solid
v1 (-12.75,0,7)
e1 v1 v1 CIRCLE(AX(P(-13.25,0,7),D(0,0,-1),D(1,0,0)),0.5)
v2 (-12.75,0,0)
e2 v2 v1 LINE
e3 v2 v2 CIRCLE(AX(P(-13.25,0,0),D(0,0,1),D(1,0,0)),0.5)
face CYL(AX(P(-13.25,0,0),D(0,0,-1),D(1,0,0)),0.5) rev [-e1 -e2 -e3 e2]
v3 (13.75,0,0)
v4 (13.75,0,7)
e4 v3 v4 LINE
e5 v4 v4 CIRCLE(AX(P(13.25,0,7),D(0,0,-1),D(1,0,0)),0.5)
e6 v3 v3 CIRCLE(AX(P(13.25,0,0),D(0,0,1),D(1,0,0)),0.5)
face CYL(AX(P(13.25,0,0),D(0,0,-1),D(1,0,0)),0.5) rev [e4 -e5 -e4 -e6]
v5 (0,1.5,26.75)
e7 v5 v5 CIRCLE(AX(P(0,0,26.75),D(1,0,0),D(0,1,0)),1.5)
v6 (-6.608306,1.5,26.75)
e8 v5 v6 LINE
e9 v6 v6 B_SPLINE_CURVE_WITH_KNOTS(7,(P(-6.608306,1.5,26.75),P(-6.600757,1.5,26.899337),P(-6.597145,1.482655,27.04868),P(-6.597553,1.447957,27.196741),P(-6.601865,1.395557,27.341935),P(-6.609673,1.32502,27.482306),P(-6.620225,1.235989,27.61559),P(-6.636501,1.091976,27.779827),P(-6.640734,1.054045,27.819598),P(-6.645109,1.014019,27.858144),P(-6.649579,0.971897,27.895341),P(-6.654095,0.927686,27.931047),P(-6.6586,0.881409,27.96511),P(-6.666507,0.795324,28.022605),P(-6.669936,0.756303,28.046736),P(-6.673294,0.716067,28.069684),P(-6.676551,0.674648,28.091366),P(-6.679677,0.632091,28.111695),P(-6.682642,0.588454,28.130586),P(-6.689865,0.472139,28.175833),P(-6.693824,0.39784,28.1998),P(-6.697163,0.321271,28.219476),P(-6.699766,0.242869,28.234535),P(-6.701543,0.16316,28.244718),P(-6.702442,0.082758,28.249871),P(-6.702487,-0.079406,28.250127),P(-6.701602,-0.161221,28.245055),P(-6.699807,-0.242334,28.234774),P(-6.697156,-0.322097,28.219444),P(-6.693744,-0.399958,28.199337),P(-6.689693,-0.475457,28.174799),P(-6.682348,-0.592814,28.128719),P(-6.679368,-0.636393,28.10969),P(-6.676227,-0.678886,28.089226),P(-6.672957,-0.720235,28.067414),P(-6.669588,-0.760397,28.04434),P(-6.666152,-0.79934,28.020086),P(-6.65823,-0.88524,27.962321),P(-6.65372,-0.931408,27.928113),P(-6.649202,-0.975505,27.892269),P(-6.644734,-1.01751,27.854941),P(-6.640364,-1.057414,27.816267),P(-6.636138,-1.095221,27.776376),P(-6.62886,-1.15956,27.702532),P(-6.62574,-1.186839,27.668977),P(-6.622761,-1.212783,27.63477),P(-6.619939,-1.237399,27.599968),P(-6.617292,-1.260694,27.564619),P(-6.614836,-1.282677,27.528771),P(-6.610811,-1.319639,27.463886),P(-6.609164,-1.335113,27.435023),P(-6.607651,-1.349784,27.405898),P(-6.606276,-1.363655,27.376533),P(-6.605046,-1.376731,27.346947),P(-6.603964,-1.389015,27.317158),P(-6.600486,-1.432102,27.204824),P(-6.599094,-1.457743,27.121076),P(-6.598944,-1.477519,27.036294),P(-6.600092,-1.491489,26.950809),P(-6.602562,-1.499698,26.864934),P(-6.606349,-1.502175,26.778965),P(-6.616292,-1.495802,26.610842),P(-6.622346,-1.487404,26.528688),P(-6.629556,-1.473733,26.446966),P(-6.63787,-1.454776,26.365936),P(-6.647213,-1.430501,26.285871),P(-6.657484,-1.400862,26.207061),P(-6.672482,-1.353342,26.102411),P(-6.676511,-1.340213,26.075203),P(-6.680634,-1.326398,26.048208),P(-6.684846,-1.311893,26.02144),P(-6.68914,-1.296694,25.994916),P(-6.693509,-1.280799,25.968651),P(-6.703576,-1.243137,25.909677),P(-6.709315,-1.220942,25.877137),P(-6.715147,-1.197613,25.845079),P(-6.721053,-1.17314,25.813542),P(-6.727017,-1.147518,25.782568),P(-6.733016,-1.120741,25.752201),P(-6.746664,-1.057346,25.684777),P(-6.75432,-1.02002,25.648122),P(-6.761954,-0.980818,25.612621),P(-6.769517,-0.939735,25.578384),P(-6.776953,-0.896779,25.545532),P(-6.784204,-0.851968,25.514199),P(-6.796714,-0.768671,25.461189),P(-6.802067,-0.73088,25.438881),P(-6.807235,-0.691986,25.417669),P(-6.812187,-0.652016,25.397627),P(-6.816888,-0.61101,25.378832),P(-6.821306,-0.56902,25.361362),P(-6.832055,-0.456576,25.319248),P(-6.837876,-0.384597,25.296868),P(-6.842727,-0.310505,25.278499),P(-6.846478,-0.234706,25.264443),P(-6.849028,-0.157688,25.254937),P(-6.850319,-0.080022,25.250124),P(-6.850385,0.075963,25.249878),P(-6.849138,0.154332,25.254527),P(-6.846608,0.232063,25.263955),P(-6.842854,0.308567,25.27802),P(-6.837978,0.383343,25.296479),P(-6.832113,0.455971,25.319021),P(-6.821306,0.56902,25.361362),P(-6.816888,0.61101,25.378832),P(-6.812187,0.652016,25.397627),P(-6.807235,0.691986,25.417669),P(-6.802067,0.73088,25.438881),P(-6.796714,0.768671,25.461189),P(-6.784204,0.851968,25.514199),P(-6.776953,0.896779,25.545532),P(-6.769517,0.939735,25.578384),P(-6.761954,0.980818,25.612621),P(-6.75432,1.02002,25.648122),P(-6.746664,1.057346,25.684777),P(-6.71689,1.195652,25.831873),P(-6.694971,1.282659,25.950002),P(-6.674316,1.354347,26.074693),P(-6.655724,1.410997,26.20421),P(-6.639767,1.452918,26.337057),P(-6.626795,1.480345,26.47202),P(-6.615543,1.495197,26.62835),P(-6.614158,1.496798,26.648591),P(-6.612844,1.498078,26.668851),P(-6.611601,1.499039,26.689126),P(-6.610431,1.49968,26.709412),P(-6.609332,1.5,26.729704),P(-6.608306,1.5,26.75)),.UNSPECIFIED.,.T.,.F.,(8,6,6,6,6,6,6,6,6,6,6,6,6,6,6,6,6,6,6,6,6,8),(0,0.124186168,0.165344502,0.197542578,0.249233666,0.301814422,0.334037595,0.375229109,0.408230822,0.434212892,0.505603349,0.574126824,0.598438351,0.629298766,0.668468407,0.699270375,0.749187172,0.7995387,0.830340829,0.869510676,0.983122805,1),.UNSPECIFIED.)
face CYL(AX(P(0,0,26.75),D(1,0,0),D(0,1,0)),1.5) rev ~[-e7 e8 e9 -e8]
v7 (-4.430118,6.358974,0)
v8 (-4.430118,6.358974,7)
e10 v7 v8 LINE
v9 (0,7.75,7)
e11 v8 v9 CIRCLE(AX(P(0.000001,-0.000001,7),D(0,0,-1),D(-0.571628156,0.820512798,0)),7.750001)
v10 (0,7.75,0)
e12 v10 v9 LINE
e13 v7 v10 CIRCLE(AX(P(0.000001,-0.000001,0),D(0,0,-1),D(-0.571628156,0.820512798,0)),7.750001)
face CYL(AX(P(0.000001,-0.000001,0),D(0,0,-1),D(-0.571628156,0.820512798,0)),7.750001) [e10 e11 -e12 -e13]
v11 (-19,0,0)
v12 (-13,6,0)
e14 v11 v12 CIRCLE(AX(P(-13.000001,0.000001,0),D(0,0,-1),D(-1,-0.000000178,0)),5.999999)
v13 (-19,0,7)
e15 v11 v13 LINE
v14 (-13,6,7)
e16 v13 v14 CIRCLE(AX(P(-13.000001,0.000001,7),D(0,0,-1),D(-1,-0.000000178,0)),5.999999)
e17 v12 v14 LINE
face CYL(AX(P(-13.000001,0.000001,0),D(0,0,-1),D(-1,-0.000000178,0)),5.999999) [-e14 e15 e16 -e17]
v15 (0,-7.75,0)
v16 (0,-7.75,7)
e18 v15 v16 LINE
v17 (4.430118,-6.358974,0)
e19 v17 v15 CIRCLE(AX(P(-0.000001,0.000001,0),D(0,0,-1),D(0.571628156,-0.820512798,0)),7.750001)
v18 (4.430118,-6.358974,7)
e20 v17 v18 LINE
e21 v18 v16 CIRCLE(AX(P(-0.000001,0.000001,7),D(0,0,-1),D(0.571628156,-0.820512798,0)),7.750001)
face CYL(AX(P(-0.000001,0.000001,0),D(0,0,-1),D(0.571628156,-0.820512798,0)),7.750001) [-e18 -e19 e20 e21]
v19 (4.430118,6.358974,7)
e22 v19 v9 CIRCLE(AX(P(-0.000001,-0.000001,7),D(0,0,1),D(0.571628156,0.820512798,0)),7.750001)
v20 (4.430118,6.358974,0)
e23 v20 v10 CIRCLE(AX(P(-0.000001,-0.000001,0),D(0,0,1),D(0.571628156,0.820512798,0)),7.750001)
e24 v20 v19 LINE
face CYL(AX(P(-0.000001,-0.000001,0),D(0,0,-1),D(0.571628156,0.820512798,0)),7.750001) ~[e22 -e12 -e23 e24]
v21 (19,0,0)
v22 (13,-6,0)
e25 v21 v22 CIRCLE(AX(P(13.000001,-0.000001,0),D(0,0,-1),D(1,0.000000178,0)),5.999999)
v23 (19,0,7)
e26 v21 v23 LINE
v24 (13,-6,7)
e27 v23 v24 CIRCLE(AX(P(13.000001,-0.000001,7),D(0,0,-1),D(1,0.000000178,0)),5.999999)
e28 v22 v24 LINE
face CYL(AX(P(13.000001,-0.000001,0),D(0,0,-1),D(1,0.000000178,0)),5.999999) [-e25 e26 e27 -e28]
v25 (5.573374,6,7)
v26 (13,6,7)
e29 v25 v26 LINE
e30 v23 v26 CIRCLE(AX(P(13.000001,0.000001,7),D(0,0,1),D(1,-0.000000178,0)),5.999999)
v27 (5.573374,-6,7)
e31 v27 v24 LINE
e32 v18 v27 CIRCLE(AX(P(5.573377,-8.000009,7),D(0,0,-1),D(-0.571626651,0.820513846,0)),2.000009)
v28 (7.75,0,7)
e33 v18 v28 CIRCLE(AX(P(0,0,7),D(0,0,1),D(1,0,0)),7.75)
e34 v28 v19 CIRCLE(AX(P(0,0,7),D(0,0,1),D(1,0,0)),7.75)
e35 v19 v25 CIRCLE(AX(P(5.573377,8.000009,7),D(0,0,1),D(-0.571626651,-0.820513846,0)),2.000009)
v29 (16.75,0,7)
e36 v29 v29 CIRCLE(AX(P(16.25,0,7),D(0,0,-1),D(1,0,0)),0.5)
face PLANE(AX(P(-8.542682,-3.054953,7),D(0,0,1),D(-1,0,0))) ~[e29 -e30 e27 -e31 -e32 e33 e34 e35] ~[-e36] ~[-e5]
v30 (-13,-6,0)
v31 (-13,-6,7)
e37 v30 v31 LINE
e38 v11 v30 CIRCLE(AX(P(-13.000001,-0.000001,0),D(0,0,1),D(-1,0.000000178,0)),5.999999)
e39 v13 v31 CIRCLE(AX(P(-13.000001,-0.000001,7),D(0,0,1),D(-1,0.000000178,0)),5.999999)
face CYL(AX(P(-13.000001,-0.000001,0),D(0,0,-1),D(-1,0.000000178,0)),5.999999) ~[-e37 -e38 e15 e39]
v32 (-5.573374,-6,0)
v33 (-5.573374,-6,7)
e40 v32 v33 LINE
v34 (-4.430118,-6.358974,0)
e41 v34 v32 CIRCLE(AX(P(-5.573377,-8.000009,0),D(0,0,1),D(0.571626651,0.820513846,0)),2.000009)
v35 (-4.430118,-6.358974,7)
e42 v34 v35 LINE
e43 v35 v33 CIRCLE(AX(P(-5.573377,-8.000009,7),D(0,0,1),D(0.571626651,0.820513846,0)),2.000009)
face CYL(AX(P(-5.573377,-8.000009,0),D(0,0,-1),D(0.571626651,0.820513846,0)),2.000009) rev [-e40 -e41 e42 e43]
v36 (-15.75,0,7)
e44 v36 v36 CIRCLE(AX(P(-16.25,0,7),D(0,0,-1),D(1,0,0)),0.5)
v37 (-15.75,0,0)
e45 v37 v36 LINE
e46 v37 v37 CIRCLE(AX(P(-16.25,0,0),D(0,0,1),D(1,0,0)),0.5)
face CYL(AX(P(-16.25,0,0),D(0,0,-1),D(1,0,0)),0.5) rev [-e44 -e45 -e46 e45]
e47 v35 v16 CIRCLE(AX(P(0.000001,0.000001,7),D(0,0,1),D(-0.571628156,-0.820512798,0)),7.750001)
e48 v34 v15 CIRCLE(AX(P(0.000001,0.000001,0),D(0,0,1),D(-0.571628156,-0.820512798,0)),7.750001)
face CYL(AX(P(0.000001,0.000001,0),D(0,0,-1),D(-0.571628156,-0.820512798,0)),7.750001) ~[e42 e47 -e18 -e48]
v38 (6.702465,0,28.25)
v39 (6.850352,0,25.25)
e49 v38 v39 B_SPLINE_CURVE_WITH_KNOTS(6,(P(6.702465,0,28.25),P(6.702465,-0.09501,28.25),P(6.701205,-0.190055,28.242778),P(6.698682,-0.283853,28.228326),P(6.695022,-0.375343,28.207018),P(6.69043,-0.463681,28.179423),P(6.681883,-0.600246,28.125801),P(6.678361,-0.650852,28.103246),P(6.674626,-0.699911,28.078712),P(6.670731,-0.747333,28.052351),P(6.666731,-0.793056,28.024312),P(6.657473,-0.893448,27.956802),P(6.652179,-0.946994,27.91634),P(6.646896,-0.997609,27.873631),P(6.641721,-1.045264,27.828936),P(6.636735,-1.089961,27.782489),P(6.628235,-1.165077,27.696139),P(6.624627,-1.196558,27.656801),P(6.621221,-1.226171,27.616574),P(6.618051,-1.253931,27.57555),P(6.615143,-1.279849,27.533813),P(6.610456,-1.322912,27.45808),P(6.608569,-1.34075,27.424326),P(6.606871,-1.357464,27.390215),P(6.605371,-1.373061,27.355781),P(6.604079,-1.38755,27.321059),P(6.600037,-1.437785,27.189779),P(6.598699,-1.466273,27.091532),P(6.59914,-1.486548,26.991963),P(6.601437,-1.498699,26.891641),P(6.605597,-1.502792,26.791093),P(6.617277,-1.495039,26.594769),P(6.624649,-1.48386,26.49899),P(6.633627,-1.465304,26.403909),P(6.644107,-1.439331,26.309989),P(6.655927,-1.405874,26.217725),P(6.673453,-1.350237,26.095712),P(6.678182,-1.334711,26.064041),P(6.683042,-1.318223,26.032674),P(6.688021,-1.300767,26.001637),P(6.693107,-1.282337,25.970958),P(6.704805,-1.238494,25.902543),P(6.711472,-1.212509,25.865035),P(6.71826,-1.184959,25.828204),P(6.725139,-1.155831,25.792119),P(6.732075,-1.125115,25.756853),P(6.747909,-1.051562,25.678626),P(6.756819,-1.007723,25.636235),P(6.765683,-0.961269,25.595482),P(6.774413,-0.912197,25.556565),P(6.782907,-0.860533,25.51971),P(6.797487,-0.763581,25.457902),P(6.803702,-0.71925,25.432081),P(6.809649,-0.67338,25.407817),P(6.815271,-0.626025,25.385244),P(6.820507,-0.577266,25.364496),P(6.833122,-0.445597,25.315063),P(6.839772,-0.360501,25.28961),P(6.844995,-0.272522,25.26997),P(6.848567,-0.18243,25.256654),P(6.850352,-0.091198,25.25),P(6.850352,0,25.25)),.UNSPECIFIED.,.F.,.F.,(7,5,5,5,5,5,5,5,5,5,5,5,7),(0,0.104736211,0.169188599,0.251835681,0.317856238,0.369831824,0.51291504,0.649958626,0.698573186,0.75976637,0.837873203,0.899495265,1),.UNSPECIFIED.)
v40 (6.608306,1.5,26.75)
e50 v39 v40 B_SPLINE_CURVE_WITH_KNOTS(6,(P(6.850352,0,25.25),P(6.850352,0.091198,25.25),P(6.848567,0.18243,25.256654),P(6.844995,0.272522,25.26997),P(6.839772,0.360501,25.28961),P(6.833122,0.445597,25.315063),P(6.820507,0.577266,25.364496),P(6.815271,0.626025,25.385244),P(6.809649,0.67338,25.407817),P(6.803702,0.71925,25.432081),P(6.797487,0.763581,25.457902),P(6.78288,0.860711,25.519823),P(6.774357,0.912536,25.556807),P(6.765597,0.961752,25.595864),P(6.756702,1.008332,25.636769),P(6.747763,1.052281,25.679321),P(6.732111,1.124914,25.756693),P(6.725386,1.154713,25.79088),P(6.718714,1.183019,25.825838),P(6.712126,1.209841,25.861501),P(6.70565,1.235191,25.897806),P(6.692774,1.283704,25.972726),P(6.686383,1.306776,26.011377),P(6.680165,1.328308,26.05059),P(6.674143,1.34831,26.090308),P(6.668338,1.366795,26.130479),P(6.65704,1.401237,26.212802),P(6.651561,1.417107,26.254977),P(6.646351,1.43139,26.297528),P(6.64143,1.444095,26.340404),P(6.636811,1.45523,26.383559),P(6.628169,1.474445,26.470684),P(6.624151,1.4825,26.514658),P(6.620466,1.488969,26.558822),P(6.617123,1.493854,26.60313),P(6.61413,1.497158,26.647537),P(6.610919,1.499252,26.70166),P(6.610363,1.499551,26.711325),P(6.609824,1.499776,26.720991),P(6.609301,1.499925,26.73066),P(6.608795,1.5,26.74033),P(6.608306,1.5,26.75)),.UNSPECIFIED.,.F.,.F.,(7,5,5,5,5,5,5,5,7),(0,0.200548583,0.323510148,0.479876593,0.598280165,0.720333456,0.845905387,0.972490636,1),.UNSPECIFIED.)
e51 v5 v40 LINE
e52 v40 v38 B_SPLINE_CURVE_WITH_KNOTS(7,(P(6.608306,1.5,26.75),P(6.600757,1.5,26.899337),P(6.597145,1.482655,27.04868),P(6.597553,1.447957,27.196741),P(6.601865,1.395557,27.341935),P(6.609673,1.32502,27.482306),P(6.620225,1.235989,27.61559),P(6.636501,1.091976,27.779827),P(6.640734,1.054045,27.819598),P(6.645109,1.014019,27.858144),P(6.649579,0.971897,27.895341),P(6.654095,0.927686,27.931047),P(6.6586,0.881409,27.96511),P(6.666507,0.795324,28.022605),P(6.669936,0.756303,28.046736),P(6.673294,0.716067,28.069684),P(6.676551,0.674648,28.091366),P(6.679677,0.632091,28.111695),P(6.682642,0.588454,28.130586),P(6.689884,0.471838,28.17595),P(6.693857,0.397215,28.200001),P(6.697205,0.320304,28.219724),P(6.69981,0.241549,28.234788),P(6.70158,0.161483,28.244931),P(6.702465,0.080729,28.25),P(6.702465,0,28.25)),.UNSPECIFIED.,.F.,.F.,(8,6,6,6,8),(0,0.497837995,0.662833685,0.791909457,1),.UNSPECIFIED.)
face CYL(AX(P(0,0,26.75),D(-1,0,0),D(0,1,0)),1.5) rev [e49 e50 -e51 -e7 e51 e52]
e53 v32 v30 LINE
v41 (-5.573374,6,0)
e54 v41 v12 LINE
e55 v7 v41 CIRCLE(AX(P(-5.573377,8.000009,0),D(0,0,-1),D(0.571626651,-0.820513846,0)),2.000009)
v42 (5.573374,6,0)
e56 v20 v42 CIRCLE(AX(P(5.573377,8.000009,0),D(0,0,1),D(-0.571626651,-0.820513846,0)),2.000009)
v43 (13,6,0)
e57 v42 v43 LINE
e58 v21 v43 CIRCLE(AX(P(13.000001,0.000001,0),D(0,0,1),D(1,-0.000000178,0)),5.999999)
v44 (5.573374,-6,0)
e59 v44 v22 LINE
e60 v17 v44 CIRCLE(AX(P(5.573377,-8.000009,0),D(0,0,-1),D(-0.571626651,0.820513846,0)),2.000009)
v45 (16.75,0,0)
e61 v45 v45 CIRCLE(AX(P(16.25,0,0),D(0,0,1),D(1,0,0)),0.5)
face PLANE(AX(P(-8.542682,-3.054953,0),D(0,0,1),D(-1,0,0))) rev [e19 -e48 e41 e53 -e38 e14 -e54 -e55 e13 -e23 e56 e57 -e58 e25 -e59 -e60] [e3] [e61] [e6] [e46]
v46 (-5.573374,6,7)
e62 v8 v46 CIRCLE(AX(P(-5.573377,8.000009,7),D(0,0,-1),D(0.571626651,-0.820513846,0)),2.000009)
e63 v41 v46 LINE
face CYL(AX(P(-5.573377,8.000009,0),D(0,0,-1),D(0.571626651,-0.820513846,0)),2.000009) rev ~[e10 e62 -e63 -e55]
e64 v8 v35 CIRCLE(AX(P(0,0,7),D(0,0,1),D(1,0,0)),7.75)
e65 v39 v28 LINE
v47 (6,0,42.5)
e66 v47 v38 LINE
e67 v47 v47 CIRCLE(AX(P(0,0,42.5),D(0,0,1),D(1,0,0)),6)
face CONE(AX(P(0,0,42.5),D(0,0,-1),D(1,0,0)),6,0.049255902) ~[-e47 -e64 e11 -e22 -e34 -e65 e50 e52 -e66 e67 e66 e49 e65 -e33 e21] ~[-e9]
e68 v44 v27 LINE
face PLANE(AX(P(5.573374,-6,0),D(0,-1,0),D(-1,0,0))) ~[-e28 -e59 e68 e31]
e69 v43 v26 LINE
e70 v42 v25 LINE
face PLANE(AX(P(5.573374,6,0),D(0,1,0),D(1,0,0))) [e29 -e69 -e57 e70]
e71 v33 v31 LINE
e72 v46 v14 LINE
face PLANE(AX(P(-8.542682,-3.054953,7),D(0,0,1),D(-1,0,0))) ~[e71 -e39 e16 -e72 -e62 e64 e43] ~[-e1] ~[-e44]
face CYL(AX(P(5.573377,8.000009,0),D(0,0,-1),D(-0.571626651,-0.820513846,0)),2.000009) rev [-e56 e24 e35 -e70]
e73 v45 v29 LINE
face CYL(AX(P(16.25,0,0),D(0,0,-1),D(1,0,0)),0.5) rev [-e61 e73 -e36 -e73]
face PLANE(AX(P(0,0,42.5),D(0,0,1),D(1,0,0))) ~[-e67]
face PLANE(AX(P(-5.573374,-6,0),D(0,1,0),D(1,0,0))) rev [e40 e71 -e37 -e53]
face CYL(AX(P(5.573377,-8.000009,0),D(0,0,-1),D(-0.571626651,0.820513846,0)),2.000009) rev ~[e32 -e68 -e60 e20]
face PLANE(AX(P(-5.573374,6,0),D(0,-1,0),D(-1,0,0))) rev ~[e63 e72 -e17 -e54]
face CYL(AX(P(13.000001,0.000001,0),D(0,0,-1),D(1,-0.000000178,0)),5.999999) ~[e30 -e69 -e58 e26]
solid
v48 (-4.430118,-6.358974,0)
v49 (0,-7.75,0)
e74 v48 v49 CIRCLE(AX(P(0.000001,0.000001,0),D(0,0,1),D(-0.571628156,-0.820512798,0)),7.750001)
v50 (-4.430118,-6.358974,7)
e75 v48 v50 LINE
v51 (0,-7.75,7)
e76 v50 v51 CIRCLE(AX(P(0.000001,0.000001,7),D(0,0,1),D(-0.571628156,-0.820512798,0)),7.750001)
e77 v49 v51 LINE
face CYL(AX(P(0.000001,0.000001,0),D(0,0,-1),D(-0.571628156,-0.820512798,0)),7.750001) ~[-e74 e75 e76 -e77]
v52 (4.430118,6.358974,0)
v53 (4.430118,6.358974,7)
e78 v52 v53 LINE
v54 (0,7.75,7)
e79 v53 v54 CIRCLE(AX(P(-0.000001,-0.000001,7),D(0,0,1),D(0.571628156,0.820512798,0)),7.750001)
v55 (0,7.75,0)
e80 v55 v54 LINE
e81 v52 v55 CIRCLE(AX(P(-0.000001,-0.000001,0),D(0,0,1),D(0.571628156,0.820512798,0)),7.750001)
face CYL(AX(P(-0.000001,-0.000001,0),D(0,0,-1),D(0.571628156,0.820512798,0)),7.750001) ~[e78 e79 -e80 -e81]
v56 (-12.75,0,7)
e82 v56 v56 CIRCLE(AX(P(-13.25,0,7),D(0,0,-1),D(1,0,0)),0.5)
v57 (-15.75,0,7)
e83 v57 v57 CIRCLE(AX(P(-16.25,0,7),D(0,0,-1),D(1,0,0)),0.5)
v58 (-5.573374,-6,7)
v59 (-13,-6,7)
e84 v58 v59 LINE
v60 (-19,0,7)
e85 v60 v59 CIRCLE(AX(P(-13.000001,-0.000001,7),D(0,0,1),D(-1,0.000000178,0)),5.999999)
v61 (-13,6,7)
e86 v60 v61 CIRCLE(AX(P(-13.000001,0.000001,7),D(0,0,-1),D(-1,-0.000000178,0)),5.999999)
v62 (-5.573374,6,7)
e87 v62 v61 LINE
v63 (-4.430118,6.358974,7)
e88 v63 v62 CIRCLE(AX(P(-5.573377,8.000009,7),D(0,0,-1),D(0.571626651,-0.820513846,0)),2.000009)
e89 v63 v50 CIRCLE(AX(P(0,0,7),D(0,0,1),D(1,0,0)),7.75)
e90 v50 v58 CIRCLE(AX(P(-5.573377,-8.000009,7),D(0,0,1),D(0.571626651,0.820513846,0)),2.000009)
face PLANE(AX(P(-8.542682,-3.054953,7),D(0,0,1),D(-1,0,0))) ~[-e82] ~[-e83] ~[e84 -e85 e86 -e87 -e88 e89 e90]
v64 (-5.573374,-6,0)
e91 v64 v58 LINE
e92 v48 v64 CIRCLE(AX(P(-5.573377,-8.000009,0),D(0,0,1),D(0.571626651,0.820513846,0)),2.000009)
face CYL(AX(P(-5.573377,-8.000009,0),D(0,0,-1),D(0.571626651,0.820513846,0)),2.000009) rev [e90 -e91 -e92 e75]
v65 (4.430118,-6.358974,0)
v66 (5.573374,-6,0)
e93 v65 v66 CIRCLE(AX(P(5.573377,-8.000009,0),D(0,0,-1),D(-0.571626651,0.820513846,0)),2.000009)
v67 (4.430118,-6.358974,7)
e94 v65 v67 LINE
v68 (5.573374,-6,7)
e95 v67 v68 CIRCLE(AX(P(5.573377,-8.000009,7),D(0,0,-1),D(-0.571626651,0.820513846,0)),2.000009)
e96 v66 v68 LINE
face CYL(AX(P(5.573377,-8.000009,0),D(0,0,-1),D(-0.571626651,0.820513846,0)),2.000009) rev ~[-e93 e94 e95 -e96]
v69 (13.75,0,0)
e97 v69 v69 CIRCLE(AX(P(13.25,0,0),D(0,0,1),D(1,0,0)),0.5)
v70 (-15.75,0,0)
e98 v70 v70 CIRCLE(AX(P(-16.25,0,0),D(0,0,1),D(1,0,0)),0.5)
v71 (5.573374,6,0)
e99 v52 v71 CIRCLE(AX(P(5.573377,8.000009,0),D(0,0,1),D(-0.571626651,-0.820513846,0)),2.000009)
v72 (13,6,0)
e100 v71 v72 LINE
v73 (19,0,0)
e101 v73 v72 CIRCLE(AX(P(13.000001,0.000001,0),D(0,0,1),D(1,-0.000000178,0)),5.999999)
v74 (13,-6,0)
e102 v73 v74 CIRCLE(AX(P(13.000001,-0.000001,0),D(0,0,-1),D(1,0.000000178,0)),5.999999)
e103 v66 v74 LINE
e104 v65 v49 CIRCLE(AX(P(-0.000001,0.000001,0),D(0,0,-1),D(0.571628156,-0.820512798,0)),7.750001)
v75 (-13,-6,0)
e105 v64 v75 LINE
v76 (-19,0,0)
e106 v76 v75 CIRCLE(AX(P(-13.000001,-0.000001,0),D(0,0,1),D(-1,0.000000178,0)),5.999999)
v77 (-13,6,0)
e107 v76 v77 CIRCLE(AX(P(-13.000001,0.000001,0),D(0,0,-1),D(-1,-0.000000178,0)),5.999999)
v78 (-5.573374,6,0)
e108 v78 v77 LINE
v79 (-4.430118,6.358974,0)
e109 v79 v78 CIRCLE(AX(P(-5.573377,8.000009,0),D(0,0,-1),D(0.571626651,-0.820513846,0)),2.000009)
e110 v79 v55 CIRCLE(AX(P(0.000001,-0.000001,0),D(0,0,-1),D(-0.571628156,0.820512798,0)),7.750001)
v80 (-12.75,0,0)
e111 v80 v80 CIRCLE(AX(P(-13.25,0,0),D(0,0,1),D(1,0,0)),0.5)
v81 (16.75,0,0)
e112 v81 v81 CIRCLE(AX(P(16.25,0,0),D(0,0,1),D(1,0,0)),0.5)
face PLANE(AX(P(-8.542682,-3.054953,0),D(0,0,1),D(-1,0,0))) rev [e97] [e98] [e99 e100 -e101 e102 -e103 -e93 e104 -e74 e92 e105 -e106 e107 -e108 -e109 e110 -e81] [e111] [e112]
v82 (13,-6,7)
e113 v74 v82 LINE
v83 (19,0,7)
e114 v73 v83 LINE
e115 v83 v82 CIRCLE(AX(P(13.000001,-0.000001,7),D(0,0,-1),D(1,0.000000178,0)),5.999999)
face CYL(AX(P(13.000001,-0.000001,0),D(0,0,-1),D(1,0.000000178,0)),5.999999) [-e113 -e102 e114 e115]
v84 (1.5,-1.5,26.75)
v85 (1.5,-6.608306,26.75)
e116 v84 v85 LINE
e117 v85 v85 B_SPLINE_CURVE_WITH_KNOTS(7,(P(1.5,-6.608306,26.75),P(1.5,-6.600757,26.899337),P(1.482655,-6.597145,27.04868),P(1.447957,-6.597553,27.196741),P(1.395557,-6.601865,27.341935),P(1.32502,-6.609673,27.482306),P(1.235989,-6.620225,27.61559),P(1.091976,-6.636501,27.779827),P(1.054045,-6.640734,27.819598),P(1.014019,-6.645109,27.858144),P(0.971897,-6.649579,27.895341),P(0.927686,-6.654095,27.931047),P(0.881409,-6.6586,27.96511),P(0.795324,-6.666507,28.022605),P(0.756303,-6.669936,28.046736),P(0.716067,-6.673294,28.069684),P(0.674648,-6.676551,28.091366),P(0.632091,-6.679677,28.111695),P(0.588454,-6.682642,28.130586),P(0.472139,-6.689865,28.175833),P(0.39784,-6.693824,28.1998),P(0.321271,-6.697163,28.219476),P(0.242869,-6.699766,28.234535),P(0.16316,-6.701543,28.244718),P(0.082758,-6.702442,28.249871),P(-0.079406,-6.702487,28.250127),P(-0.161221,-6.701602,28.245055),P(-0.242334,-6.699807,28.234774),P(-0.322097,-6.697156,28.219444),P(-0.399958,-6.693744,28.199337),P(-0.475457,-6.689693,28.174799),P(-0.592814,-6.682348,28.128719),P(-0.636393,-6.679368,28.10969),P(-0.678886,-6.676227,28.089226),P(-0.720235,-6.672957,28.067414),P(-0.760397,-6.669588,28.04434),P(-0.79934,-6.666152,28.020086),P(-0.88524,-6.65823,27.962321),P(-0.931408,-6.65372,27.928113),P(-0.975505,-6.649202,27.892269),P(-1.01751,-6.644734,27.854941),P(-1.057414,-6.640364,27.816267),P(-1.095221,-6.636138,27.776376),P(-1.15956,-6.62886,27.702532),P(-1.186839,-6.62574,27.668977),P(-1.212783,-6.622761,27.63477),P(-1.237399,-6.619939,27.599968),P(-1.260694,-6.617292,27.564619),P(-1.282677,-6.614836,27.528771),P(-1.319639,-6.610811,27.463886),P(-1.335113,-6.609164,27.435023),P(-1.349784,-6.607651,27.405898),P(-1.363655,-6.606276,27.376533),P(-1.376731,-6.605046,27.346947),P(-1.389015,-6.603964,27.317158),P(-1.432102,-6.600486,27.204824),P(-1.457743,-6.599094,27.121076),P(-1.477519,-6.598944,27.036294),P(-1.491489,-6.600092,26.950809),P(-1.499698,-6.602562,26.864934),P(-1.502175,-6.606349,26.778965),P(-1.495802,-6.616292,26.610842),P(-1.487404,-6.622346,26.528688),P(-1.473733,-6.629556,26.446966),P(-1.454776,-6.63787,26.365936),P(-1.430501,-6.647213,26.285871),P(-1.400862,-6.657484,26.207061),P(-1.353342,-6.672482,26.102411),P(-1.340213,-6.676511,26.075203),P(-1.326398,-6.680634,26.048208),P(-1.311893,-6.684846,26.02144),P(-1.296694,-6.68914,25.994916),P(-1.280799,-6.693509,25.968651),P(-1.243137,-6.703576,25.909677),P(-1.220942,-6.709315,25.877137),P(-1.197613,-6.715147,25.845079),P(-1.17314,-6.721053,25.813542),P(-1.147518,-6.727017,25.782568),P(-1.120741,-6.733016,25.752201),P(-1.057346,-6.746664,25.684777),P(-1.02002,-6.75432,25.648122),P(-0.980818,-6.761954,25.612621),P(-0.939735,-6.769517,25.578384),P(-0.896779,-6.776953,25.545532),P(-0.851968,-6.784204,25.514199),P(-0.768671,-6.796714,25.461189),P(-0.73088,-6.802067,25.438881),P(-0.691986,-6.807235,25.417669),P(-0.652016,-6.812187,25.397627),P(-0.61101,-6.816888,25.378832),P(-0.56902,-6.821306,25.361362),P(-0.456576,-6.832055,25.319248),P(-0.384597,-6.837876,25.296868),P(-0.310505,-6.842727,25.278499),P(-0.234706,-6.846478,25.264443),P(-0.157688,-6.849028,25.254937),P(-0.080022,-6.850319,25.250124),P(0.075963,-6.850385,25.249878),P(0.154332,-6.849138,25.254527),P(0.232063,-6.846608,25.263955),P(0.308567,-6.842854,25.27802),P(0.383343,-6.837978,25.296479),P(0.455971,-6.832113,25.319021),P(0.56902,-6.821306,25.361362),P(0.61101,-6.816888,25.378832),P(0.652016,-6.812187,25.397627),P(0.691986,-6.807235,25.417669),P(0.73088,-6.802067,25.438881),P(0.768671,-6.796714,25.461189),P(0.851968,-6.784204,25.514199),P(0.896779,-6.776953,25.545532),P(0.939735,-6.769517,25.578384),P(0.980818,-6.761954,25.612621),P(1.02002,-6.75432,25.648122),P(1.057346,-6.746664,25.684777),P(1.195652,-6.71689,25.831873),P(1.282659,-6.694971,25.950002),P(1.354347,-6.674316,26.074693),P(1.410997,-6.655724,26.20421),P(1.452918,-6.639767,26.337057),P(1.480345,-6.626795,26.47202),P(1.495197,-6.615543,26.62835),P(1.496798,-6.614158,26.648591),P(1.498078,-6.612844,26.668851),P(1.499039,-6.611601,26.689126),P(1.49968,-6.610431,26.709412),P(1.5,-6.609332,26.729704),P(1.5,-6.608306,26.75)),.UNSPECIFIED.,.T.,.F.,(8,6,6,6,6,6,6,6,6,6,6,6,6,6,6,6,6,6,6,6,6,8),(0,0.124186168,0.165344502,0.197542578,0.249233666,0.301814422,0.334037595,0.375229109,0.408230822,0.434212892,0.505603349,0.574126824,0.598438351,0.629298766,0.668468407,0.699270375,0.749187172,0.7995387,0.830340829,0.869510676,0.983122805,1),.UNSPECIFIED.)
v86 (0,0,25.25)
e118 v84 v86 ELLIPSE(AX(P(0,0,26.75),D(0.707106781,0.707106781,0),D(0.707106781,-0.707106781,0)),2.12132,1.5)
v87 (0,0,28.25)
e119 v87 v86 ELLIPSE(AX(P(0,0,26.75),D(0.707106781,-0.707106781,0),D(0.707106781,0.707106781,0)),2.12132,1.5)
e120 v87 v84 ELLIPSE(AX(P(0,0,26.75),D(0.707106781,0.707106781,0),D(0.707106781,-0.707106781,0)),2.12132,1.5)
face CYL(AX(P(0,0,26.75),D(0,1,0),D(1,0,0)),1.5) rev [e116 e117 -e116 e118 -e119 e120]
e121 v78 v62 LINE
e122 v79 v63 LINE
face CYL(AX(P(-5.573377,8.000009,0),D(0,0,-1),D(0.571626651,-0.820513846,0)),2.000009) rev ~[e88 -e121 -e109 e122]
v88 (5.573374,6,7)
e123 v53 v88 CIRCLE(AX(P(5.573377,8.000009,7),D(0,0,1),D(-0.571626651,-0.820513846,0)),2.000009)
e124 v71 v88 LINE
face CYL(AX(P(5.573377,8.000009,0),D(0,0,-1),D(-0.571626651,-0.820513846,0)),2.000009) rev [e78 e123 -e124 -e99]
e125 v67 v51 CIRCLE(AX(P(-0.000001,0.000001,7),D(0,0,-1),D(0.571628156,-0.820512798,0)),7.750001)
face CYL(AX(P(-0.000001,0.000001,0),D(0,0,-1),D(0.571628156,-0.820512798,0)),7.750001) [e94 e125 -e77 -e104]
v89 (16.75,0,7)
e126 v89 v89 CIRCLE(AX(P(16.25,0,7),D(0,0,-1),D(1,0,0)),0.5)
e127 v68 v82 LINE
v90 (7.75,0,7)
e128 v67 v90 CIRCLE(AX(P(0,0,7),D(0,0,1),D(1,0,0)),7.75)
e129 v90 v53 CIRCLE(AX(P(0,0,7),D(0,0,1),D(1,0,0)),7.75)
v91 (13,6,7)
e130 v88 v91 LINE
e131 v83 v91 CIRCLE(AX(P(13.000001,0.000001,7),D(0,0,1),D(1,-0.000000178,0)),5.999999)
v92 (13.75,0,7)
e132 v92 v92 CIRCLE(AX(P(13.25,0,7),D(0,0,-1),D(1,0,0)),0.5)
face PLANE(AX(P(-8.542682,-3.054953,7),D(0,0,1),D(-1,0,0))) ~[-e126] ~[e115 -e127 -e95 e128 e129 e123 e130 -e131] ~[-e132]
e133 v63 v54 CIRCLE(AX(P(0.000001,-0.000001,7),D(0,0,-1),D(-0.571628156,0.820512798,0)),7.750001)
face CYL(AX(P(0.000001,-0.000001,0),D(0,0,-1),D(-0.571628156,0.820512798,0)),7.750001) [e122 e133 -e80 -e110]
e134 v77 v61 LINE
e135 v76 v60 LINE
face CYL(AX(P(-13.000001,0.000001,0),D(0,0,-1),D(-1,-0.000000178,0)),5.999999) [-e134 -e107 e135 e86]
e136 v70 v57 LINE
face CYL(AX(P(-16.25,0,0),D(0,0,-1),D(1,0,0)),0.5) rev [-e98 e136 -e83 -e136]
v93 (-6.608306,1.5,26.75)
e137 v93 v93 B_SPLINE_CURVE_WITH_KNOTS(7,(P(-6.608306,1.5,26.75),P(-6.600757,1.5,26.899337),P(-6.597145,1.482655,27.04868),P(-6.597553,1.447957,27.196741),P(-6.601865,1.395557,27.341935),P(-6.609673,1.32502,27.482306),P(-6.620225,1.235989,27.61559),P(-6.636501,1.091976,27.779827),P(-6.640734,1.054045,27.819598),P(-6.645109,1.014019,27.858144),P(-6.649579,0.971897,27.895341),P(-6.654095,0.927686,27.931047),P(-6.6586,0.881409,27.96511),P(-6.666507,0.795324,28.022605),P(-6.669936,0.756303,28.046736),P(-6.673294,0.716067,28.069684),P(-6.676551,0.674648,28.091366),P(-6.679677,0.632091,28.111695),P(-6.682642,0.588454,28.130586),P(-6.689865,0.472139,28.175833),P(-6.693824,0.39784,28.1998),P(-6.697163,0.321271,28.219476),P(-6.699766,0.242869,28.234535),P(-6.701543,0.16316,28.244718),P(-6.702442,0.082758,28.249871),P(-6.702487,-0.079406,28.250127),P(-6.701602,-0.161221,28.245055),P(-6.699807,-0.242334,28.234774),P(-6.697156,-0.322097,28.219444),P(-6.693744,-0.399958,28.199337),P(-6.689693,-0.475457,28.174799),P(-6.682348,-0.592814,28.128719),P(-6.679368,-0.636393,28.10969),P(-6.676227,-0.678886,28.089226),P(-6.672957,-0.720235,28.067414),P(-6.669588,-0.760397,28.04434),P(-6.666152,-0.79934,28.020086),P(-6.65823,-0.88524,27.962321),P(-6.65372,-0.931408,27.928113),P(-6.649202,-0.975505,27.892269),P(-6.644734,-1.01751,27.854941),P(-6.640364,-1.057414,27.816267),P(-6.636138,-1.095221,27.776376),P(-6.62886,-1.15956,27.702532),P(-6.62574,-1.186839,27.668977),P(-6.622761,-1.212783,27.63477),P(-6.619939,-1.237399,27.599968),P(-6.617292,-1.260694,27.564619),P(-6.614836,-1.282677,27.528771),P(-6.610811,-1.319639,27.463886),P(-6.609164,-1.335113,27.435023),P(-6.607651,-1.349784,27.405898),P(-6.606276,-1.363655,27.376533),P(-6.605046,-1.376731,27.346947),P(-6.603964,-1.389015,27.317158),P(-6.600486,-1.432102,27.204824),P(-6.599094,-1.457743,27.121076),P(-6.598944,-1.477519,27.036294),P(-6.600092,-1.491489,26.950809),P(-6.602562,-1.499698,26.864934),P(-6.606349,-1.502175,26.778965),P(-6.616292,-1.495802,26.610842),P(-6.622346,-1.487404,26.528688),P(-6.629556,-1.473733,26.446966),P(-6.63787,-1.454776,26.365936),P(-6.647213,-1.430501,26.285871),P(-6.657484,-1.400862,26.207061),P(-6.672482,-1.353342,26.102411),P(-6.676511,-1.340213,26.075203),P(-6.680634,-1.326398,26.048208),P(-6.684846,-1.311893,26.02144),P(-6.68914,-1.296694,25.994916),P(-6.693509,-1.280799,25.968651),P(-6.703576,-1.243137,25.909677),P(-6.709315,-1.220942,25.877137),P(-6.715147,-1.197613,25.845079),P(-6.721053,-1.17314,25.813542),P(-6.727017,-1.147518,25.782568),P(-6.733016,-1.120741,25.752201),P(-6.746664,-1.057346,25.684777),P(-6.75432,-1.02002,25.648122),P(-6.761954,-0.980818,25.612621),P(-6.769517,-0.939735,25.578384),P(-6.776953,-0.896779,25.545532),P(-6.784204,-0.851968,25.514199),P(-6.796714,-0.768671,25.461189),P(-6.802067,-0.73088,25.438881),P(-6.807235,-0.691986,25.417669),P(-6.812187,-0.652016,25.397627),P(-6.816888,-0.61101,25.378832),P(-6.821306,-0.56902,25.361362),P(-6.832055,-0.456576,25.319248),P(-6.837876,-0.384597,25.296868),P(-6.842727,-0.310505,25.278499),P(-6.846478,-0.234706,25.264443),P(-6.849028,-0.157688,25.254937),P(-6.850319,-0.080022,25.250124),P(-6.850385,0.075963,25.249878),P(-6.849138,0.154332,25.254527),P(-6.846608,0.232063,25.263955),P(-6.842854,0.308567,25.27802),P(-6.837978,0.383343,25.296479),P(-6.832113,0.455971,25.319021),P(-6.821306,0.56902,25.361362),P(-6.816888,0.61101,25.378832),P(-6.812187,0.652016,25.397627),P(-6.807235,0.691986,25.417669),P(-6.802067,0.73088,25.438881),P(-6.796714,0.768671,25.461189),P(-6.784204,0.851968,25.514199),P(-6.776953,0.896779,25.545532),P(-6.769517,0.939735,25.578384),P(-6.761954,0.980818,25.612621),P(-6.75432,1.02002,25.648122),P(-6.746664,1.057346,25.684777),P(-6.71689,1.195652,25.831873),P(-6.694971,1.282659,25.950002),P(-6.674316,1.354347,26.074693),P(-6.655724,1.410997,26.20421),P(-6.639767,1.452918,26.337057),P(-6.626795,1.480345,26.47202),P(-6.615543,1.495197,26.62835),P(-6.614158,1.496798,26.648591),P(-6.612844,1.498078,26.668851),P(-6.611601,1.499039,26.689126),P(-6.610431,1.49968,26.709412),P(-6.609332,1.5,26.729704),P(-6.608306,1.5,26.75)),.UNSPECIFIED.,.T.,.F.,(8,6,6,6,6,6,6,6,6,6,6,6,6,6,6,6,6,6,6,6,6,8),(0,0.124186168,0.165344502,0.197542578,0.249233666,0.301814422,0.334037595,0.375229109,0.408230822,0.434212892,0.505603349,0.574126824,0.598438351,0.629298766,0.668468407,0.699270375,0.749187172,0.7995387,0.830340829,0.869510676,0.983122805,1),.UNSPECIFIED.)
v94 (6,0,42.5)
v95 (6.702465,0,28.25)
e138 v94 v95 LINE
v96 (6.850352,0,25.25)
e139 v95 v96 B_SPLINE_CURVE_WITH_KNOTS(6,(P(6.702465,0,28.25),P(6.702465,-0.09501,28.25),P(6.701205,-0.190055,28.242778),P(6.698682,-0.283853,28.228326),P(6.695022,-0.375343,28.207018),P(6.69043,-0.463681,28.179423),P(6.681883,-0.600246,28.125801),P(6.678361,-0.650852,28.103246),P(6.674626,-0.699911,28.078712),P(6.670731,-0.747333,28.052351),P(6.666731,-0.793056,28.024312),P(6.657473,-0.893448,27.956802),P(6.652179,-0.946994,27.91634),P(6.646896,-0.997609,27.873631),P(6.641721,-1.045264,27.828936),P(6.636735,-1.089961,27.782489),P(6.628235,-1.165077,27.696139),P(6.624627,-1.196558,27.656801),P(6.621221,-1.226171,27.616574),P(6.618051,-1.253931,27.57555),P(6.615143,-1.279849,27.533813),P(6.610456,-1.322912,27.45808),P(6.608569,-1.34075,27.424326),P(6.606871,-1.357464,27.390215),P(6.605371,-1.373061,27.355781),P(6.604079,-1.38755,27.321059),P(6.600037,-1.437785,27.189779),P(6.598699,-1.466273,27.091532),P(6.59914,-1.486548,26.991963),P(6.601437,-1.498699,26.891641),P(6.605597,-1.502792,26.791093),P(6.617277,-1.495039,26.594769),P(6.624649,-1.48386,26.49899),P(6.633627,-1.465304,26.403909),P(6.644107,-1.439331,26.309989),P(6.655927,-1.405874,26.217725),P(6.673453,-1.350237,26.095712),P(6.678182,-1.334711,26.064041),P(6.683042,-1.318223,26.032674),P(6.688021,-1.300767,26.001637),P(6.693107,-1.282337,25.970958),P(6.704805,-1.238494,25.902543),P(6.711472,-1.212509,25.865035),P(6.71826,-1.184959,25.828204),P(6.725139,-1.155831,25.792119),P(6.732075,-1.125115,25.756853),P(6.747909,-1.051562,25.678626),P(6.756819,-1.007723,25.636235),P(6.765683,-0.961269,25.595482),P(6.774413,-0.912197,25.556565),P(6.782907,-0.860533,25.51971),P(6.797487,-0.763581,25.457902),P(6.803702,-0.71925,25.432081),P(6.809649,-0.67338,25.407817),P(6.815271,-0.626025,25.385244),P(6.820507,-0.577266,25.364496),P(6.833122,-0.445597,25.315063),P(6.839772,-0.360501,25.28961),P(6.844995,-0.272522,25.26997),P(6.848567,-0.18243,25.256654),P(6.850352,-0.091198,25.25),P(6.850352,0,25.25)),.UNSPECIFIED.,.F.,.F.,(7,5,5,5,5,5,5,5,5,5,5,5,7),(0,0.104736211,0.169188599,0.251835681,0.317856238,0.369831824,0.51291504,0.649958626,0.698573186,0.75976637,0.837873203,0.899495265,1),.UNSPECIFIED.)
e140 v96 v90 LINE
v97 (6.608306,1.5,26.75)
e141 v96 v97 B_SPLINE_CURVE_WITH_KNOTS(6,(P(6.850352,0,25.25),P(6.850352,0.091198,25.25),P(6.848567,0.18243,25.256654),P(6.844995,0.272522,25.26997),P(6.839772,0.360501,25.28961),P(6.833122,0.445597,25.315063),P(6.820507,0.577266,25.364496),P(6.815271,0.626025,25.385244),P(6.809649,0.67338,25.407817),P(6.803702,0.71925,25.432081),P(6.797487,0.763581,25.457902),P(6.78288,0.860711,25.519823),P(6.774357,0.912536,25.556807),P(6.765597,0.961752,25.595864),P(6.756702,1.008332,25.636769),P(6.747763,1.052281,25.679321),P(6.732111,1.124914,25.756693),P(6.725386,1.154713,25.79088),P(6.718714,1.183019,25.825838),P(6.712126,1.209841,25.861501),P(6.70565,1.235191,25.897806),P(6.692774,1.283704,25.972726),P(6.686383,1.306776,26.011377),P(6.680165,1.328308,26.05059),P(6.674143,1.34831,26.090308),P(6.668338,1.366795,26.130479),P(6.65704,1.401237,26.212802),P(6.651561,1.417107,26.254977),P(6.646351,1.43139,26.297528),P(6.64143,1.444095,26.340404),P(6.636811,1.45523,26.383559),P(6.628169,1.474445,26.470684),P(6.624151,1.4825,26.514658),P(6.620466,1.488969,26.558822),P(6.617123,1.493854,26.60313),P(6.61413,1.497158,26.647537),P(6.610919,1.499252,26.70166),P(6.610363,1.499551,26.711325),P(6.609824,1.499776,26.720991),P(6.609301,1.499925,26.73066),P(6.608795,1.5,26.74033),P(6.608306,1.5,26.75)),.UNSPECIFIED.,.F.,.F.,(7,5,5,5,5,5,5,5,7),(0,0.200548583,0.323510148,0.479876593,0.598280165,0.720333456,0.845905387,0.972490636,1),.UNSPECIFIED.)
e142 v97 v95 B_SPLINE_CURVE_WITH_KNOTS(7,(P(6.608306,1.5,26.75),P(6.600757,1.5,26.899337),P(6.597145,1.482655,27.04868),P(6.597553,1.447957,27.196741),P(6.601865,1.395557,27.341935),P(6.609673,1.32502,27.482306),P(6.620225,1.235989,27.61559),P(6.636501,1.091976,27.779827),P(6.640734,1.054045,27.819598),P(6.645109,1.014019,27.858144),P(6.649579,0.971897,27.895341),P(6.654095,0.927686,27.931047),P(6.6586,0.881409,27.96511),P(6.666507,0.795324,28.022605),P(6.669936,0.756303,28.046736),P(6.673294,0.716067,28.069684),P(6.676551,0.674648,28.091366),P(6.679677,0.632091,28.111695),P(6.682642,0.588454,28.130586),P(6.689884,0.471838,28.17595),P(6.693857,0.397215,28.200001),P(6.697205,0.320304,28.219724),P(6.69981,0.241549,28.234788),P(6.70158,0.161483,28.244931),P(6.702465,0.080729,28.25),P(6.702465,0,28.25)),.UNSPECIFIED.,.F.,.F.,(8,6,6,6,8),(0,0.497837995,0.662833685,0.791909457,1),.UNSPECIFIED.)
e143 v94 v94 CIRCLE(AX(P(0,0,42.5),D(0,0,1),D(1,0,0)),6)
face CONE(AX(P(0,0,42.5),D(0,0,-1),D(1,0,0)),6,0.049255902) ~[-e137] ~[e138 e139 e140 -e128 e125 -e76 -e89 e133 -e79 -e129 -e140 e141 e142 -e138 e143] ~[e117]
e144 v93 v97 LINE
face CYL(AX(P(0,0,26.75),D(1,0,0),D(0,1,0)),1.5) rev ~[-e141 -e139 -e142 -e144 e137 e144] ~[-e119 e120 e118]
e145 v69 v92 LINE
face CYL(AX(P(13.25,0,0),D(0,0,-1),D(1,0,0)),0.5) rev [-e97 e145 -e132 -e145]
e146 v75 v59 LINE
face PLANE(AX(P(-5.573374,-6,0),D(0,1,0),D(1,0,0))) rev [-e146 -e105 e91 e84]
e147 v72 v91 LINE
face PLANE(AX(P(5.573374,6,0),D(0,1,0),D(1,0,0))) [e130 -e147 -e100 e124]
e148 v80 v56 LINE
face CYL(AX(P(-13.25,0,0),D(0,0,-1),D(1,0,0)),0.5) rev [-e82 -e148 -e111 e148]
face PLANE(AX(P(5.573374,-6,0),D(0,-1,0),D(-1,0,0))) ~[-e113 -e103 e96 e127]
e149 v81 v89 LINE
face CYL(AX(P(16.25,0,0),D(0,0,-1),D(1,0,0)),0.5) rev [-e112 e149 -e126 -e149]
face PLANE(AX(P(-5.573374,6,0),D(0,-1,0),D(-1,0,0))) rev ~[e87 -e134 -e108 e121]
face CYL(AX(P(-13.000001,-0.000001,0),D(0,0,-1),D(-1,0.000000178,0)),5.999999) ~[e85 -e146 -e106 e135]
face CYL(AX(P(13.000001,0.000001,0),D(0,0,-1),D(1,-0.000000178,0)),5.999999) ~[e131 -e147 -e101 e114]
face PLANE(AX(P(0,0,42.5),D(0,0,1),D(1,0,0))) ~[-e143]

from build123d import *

# Parameters (mm, degrees)
PAD_DEPTH                  = 7
PAD_MIRRORED_2_DEPTH       = 7
SKETCH002_R                = 0.5
POCKET_DEPTH               = 42.501
SKETCH007_R                = 1.5
POCKET002_DEPTH            = 19.001
POCKET002_DEPTH_BACK       = -19.001
SKETCH011_R                = 1.5
PAD002_DEPTH               = 12.75
SKETCH012_R                = 1.5
PAD003_DEPTH               = 15.5
PAD001_DEPTH               = 7
PAD001_MIRRORED002_2_DEPTH = 7
SKETCH010_R                = 0.5
POCKET003_DEPTH            = 42.501


with BuildPart() as stopcock_servo_adaptor:
    # Sketch → Pad (new body)
    with BuildSketch(Plane.XY):
        with BuildLine():
            Line((5.573374, 6), (13, 6))
            ThreePointArc((19, 0), (17.242641, 4.242641), (13, 6))
            Line((0, 0), (19, 0))
            Line((0, 7.75), (0, 0))
            ThreePointArc((4.430118, 6.358974), (2.321686, 7.39407), (0, 7.75))
            ThreePointArc((4.430118, 6.358974), (4.97423, 6.091853), (5.573374, 6))
        make_face()
    pad = extrude(amount=PAD_DEPTH)

    # Sketch Mirrored 2 → Pad Mirrored 2 (add)
    with BuildSketch(Plane(origin=(0, 0, 0), x_dir=(-1, 0, 0), z_dir=(0, 0, -1))):
        with BuildLine():
            Line((5.573374, 6), (13, 6))
            ThreePointArc((19, 0), (17.242641, 4.242641), (13, 6))
            Line((0, 0), (19, 0))
            Line((0, 7.75), (0, 0))
            ThreePointArc((4.430118, 6.358974), (2.321686, 7.39407), (0, 7.75))
            ThreePointArc((4.430118, 6.358974), (4.97423, 6.091853), (5.573374, 6))
        make_face()
    pad_mirrored_2 = extrude(amount=-PAD_MIRRORED_2_DEPTH)

    # Mirrored001: Pad, Pad Mirrored 2 across Sketch H_Axis
    add(pad.mirror(Plane.ZX))
    add(pad_mirrored_2.mirror(Plane.ZX))

    # Sketch001 → Revolution (revolve)
    with BuildSketch(Plane.XZ):
        Polygon((0, 7), (0, 42.5), (6, 42.5), (7.75, 7), align=None)
    revolve(axis=Axis((0, 0, 0), (0, 0, 1)))

    # Sketch002 → Pocket (cut, through all)
    with BuildSketch(Plane.XY):
        with Locations((16.25, 0)):
            Circle(SKETCH002_R)
        with Locations((13.25, 0)):
            Circle(SKETCH002_R)
        with Locations((-13.25, 0)):
            Circle(SKETCH002_R)
        with Locations((-16.25, 0)):
            Circle(SKETCH002_R)
    extrude(amount=POCKET_DEPTH, mode=Mode.SUBTRACT)

    # Sketch007 → Pocket002 (cut, two sides)
    with BuildSketch(Plane.YZ) as pocket002_sk:
        with Locations((0, 26.75)):
            Circle(SKETCH007_R)
    extrude(amount=-POCKET002_DEPTH, mode=Mode.SUBTRACT)
    extrude(pocket002_sk.sketch, amount=-POCKET002_DEPTH_BACK, mode=Mode.SUBTRACT)


with BuildPart() as hole:
    # Sketch011 → Pad002 (new body, symmetric)
    with BuildSketch(Plane.YZ):
        with Locations((0, 26.75)):
            Circle(SKETCH011_R)
    extrude(amount=PAD002_DEPTH, both=True)

    # Sketch012 → Pad003 (join)
    with BuildSketch(Plane.XZ):
        with Locations((0, 26.75)):
            Circle(SKETCH012_R)
    extrude(amount=PAD003_DEPTH)


with BuildPart() as cut:
    # Sketch008 → Pad001 (new body)
    with BuildSketch(Plane.XY):
        with BuildLine():
            Line((5.573374, 6), (13, 6))
            ThreePointArc((19, 0), (17.242641, 4.242641), (13, 6))
            Line((0, 0), (19, 0))
            Line((0, 7.75), (0, 0))
            ThreePointArc((4.430118, 6.358974), (2.321686, 7.39407), (0, 7.75))
            ThreePointArc((4.430118, 6.358974), (4.97423, 6.091853), (5.573374, 6))
        make_face()
    pad001 = extrude(amount=PAD001_DEPTH)

    # Sketch008 Mirrored002 2 → Pad001 Mirrored002 2 (add)
    with BuildSketch(Plane(origin=(0, 0, 0), x_dir=(-1, 0, 0), z_dir=(0, 0, -1))):
        with BuildLine():
            Line((5.573374, 6), (13, 6))
            ThreePointArc((19, 0), (17.242641, 4.242641), (13, 6))
            Line((0, 0), (19, 0))
            Line((0, 7.75), (0, 0))
            ThreePointArc((4.430118, 6.358974), (2.321686, 7.39407), (0, 7.75))
            ThreePointArc((4.430118, 6.358974), (4.97423, 6.091853), (5.573374, 6))
        make_face()
    pad001_mirrored002_2 = extrude(amount=-PAD001_MIRRORED002_2_DEPTH)

    # Mirrored003: Pad001, Pad001 Mirrored002 2 across Sketch008 H_Axis
    add(pad001.mirror(Plane.ZX))
    add(pad001_mirrored002_2.mirror(Plane.ZX))

    # Sketch009 → Revolution001 (revolve)
    with BuildSketch(Plane.XZ):
        Polygon((0, 7), (0, 42.5), (6, 42.5), (7.75, 7), align=None)
    revolve(axis=Axis((0, 0, 0), (0, 0, 1)))

    # Sketch010 → Pocket003 (cut, through all)
    with BuildSketch(Plane.XY):
        with Locations((16.25, 0)):
            Circle(SKETCH010_R)
        with Locations((13.25, 0)):
            Circle(SKETCH010_R)
        with Locations((-13.25, 0)):
            Circle(SKETCH010_R)
        with Locations((-16.25, 0)):
            Circle(SKETCH010_R)
    extrude(amount=POCKET003_DEPTH, mode=Mode.SUBTRACT)

    # Cut: cut hole
    add(hole.part, mode=Mode.SUBTRACT)


solid = Compound([stopcock_servo_adaptor.part, cut.part])
